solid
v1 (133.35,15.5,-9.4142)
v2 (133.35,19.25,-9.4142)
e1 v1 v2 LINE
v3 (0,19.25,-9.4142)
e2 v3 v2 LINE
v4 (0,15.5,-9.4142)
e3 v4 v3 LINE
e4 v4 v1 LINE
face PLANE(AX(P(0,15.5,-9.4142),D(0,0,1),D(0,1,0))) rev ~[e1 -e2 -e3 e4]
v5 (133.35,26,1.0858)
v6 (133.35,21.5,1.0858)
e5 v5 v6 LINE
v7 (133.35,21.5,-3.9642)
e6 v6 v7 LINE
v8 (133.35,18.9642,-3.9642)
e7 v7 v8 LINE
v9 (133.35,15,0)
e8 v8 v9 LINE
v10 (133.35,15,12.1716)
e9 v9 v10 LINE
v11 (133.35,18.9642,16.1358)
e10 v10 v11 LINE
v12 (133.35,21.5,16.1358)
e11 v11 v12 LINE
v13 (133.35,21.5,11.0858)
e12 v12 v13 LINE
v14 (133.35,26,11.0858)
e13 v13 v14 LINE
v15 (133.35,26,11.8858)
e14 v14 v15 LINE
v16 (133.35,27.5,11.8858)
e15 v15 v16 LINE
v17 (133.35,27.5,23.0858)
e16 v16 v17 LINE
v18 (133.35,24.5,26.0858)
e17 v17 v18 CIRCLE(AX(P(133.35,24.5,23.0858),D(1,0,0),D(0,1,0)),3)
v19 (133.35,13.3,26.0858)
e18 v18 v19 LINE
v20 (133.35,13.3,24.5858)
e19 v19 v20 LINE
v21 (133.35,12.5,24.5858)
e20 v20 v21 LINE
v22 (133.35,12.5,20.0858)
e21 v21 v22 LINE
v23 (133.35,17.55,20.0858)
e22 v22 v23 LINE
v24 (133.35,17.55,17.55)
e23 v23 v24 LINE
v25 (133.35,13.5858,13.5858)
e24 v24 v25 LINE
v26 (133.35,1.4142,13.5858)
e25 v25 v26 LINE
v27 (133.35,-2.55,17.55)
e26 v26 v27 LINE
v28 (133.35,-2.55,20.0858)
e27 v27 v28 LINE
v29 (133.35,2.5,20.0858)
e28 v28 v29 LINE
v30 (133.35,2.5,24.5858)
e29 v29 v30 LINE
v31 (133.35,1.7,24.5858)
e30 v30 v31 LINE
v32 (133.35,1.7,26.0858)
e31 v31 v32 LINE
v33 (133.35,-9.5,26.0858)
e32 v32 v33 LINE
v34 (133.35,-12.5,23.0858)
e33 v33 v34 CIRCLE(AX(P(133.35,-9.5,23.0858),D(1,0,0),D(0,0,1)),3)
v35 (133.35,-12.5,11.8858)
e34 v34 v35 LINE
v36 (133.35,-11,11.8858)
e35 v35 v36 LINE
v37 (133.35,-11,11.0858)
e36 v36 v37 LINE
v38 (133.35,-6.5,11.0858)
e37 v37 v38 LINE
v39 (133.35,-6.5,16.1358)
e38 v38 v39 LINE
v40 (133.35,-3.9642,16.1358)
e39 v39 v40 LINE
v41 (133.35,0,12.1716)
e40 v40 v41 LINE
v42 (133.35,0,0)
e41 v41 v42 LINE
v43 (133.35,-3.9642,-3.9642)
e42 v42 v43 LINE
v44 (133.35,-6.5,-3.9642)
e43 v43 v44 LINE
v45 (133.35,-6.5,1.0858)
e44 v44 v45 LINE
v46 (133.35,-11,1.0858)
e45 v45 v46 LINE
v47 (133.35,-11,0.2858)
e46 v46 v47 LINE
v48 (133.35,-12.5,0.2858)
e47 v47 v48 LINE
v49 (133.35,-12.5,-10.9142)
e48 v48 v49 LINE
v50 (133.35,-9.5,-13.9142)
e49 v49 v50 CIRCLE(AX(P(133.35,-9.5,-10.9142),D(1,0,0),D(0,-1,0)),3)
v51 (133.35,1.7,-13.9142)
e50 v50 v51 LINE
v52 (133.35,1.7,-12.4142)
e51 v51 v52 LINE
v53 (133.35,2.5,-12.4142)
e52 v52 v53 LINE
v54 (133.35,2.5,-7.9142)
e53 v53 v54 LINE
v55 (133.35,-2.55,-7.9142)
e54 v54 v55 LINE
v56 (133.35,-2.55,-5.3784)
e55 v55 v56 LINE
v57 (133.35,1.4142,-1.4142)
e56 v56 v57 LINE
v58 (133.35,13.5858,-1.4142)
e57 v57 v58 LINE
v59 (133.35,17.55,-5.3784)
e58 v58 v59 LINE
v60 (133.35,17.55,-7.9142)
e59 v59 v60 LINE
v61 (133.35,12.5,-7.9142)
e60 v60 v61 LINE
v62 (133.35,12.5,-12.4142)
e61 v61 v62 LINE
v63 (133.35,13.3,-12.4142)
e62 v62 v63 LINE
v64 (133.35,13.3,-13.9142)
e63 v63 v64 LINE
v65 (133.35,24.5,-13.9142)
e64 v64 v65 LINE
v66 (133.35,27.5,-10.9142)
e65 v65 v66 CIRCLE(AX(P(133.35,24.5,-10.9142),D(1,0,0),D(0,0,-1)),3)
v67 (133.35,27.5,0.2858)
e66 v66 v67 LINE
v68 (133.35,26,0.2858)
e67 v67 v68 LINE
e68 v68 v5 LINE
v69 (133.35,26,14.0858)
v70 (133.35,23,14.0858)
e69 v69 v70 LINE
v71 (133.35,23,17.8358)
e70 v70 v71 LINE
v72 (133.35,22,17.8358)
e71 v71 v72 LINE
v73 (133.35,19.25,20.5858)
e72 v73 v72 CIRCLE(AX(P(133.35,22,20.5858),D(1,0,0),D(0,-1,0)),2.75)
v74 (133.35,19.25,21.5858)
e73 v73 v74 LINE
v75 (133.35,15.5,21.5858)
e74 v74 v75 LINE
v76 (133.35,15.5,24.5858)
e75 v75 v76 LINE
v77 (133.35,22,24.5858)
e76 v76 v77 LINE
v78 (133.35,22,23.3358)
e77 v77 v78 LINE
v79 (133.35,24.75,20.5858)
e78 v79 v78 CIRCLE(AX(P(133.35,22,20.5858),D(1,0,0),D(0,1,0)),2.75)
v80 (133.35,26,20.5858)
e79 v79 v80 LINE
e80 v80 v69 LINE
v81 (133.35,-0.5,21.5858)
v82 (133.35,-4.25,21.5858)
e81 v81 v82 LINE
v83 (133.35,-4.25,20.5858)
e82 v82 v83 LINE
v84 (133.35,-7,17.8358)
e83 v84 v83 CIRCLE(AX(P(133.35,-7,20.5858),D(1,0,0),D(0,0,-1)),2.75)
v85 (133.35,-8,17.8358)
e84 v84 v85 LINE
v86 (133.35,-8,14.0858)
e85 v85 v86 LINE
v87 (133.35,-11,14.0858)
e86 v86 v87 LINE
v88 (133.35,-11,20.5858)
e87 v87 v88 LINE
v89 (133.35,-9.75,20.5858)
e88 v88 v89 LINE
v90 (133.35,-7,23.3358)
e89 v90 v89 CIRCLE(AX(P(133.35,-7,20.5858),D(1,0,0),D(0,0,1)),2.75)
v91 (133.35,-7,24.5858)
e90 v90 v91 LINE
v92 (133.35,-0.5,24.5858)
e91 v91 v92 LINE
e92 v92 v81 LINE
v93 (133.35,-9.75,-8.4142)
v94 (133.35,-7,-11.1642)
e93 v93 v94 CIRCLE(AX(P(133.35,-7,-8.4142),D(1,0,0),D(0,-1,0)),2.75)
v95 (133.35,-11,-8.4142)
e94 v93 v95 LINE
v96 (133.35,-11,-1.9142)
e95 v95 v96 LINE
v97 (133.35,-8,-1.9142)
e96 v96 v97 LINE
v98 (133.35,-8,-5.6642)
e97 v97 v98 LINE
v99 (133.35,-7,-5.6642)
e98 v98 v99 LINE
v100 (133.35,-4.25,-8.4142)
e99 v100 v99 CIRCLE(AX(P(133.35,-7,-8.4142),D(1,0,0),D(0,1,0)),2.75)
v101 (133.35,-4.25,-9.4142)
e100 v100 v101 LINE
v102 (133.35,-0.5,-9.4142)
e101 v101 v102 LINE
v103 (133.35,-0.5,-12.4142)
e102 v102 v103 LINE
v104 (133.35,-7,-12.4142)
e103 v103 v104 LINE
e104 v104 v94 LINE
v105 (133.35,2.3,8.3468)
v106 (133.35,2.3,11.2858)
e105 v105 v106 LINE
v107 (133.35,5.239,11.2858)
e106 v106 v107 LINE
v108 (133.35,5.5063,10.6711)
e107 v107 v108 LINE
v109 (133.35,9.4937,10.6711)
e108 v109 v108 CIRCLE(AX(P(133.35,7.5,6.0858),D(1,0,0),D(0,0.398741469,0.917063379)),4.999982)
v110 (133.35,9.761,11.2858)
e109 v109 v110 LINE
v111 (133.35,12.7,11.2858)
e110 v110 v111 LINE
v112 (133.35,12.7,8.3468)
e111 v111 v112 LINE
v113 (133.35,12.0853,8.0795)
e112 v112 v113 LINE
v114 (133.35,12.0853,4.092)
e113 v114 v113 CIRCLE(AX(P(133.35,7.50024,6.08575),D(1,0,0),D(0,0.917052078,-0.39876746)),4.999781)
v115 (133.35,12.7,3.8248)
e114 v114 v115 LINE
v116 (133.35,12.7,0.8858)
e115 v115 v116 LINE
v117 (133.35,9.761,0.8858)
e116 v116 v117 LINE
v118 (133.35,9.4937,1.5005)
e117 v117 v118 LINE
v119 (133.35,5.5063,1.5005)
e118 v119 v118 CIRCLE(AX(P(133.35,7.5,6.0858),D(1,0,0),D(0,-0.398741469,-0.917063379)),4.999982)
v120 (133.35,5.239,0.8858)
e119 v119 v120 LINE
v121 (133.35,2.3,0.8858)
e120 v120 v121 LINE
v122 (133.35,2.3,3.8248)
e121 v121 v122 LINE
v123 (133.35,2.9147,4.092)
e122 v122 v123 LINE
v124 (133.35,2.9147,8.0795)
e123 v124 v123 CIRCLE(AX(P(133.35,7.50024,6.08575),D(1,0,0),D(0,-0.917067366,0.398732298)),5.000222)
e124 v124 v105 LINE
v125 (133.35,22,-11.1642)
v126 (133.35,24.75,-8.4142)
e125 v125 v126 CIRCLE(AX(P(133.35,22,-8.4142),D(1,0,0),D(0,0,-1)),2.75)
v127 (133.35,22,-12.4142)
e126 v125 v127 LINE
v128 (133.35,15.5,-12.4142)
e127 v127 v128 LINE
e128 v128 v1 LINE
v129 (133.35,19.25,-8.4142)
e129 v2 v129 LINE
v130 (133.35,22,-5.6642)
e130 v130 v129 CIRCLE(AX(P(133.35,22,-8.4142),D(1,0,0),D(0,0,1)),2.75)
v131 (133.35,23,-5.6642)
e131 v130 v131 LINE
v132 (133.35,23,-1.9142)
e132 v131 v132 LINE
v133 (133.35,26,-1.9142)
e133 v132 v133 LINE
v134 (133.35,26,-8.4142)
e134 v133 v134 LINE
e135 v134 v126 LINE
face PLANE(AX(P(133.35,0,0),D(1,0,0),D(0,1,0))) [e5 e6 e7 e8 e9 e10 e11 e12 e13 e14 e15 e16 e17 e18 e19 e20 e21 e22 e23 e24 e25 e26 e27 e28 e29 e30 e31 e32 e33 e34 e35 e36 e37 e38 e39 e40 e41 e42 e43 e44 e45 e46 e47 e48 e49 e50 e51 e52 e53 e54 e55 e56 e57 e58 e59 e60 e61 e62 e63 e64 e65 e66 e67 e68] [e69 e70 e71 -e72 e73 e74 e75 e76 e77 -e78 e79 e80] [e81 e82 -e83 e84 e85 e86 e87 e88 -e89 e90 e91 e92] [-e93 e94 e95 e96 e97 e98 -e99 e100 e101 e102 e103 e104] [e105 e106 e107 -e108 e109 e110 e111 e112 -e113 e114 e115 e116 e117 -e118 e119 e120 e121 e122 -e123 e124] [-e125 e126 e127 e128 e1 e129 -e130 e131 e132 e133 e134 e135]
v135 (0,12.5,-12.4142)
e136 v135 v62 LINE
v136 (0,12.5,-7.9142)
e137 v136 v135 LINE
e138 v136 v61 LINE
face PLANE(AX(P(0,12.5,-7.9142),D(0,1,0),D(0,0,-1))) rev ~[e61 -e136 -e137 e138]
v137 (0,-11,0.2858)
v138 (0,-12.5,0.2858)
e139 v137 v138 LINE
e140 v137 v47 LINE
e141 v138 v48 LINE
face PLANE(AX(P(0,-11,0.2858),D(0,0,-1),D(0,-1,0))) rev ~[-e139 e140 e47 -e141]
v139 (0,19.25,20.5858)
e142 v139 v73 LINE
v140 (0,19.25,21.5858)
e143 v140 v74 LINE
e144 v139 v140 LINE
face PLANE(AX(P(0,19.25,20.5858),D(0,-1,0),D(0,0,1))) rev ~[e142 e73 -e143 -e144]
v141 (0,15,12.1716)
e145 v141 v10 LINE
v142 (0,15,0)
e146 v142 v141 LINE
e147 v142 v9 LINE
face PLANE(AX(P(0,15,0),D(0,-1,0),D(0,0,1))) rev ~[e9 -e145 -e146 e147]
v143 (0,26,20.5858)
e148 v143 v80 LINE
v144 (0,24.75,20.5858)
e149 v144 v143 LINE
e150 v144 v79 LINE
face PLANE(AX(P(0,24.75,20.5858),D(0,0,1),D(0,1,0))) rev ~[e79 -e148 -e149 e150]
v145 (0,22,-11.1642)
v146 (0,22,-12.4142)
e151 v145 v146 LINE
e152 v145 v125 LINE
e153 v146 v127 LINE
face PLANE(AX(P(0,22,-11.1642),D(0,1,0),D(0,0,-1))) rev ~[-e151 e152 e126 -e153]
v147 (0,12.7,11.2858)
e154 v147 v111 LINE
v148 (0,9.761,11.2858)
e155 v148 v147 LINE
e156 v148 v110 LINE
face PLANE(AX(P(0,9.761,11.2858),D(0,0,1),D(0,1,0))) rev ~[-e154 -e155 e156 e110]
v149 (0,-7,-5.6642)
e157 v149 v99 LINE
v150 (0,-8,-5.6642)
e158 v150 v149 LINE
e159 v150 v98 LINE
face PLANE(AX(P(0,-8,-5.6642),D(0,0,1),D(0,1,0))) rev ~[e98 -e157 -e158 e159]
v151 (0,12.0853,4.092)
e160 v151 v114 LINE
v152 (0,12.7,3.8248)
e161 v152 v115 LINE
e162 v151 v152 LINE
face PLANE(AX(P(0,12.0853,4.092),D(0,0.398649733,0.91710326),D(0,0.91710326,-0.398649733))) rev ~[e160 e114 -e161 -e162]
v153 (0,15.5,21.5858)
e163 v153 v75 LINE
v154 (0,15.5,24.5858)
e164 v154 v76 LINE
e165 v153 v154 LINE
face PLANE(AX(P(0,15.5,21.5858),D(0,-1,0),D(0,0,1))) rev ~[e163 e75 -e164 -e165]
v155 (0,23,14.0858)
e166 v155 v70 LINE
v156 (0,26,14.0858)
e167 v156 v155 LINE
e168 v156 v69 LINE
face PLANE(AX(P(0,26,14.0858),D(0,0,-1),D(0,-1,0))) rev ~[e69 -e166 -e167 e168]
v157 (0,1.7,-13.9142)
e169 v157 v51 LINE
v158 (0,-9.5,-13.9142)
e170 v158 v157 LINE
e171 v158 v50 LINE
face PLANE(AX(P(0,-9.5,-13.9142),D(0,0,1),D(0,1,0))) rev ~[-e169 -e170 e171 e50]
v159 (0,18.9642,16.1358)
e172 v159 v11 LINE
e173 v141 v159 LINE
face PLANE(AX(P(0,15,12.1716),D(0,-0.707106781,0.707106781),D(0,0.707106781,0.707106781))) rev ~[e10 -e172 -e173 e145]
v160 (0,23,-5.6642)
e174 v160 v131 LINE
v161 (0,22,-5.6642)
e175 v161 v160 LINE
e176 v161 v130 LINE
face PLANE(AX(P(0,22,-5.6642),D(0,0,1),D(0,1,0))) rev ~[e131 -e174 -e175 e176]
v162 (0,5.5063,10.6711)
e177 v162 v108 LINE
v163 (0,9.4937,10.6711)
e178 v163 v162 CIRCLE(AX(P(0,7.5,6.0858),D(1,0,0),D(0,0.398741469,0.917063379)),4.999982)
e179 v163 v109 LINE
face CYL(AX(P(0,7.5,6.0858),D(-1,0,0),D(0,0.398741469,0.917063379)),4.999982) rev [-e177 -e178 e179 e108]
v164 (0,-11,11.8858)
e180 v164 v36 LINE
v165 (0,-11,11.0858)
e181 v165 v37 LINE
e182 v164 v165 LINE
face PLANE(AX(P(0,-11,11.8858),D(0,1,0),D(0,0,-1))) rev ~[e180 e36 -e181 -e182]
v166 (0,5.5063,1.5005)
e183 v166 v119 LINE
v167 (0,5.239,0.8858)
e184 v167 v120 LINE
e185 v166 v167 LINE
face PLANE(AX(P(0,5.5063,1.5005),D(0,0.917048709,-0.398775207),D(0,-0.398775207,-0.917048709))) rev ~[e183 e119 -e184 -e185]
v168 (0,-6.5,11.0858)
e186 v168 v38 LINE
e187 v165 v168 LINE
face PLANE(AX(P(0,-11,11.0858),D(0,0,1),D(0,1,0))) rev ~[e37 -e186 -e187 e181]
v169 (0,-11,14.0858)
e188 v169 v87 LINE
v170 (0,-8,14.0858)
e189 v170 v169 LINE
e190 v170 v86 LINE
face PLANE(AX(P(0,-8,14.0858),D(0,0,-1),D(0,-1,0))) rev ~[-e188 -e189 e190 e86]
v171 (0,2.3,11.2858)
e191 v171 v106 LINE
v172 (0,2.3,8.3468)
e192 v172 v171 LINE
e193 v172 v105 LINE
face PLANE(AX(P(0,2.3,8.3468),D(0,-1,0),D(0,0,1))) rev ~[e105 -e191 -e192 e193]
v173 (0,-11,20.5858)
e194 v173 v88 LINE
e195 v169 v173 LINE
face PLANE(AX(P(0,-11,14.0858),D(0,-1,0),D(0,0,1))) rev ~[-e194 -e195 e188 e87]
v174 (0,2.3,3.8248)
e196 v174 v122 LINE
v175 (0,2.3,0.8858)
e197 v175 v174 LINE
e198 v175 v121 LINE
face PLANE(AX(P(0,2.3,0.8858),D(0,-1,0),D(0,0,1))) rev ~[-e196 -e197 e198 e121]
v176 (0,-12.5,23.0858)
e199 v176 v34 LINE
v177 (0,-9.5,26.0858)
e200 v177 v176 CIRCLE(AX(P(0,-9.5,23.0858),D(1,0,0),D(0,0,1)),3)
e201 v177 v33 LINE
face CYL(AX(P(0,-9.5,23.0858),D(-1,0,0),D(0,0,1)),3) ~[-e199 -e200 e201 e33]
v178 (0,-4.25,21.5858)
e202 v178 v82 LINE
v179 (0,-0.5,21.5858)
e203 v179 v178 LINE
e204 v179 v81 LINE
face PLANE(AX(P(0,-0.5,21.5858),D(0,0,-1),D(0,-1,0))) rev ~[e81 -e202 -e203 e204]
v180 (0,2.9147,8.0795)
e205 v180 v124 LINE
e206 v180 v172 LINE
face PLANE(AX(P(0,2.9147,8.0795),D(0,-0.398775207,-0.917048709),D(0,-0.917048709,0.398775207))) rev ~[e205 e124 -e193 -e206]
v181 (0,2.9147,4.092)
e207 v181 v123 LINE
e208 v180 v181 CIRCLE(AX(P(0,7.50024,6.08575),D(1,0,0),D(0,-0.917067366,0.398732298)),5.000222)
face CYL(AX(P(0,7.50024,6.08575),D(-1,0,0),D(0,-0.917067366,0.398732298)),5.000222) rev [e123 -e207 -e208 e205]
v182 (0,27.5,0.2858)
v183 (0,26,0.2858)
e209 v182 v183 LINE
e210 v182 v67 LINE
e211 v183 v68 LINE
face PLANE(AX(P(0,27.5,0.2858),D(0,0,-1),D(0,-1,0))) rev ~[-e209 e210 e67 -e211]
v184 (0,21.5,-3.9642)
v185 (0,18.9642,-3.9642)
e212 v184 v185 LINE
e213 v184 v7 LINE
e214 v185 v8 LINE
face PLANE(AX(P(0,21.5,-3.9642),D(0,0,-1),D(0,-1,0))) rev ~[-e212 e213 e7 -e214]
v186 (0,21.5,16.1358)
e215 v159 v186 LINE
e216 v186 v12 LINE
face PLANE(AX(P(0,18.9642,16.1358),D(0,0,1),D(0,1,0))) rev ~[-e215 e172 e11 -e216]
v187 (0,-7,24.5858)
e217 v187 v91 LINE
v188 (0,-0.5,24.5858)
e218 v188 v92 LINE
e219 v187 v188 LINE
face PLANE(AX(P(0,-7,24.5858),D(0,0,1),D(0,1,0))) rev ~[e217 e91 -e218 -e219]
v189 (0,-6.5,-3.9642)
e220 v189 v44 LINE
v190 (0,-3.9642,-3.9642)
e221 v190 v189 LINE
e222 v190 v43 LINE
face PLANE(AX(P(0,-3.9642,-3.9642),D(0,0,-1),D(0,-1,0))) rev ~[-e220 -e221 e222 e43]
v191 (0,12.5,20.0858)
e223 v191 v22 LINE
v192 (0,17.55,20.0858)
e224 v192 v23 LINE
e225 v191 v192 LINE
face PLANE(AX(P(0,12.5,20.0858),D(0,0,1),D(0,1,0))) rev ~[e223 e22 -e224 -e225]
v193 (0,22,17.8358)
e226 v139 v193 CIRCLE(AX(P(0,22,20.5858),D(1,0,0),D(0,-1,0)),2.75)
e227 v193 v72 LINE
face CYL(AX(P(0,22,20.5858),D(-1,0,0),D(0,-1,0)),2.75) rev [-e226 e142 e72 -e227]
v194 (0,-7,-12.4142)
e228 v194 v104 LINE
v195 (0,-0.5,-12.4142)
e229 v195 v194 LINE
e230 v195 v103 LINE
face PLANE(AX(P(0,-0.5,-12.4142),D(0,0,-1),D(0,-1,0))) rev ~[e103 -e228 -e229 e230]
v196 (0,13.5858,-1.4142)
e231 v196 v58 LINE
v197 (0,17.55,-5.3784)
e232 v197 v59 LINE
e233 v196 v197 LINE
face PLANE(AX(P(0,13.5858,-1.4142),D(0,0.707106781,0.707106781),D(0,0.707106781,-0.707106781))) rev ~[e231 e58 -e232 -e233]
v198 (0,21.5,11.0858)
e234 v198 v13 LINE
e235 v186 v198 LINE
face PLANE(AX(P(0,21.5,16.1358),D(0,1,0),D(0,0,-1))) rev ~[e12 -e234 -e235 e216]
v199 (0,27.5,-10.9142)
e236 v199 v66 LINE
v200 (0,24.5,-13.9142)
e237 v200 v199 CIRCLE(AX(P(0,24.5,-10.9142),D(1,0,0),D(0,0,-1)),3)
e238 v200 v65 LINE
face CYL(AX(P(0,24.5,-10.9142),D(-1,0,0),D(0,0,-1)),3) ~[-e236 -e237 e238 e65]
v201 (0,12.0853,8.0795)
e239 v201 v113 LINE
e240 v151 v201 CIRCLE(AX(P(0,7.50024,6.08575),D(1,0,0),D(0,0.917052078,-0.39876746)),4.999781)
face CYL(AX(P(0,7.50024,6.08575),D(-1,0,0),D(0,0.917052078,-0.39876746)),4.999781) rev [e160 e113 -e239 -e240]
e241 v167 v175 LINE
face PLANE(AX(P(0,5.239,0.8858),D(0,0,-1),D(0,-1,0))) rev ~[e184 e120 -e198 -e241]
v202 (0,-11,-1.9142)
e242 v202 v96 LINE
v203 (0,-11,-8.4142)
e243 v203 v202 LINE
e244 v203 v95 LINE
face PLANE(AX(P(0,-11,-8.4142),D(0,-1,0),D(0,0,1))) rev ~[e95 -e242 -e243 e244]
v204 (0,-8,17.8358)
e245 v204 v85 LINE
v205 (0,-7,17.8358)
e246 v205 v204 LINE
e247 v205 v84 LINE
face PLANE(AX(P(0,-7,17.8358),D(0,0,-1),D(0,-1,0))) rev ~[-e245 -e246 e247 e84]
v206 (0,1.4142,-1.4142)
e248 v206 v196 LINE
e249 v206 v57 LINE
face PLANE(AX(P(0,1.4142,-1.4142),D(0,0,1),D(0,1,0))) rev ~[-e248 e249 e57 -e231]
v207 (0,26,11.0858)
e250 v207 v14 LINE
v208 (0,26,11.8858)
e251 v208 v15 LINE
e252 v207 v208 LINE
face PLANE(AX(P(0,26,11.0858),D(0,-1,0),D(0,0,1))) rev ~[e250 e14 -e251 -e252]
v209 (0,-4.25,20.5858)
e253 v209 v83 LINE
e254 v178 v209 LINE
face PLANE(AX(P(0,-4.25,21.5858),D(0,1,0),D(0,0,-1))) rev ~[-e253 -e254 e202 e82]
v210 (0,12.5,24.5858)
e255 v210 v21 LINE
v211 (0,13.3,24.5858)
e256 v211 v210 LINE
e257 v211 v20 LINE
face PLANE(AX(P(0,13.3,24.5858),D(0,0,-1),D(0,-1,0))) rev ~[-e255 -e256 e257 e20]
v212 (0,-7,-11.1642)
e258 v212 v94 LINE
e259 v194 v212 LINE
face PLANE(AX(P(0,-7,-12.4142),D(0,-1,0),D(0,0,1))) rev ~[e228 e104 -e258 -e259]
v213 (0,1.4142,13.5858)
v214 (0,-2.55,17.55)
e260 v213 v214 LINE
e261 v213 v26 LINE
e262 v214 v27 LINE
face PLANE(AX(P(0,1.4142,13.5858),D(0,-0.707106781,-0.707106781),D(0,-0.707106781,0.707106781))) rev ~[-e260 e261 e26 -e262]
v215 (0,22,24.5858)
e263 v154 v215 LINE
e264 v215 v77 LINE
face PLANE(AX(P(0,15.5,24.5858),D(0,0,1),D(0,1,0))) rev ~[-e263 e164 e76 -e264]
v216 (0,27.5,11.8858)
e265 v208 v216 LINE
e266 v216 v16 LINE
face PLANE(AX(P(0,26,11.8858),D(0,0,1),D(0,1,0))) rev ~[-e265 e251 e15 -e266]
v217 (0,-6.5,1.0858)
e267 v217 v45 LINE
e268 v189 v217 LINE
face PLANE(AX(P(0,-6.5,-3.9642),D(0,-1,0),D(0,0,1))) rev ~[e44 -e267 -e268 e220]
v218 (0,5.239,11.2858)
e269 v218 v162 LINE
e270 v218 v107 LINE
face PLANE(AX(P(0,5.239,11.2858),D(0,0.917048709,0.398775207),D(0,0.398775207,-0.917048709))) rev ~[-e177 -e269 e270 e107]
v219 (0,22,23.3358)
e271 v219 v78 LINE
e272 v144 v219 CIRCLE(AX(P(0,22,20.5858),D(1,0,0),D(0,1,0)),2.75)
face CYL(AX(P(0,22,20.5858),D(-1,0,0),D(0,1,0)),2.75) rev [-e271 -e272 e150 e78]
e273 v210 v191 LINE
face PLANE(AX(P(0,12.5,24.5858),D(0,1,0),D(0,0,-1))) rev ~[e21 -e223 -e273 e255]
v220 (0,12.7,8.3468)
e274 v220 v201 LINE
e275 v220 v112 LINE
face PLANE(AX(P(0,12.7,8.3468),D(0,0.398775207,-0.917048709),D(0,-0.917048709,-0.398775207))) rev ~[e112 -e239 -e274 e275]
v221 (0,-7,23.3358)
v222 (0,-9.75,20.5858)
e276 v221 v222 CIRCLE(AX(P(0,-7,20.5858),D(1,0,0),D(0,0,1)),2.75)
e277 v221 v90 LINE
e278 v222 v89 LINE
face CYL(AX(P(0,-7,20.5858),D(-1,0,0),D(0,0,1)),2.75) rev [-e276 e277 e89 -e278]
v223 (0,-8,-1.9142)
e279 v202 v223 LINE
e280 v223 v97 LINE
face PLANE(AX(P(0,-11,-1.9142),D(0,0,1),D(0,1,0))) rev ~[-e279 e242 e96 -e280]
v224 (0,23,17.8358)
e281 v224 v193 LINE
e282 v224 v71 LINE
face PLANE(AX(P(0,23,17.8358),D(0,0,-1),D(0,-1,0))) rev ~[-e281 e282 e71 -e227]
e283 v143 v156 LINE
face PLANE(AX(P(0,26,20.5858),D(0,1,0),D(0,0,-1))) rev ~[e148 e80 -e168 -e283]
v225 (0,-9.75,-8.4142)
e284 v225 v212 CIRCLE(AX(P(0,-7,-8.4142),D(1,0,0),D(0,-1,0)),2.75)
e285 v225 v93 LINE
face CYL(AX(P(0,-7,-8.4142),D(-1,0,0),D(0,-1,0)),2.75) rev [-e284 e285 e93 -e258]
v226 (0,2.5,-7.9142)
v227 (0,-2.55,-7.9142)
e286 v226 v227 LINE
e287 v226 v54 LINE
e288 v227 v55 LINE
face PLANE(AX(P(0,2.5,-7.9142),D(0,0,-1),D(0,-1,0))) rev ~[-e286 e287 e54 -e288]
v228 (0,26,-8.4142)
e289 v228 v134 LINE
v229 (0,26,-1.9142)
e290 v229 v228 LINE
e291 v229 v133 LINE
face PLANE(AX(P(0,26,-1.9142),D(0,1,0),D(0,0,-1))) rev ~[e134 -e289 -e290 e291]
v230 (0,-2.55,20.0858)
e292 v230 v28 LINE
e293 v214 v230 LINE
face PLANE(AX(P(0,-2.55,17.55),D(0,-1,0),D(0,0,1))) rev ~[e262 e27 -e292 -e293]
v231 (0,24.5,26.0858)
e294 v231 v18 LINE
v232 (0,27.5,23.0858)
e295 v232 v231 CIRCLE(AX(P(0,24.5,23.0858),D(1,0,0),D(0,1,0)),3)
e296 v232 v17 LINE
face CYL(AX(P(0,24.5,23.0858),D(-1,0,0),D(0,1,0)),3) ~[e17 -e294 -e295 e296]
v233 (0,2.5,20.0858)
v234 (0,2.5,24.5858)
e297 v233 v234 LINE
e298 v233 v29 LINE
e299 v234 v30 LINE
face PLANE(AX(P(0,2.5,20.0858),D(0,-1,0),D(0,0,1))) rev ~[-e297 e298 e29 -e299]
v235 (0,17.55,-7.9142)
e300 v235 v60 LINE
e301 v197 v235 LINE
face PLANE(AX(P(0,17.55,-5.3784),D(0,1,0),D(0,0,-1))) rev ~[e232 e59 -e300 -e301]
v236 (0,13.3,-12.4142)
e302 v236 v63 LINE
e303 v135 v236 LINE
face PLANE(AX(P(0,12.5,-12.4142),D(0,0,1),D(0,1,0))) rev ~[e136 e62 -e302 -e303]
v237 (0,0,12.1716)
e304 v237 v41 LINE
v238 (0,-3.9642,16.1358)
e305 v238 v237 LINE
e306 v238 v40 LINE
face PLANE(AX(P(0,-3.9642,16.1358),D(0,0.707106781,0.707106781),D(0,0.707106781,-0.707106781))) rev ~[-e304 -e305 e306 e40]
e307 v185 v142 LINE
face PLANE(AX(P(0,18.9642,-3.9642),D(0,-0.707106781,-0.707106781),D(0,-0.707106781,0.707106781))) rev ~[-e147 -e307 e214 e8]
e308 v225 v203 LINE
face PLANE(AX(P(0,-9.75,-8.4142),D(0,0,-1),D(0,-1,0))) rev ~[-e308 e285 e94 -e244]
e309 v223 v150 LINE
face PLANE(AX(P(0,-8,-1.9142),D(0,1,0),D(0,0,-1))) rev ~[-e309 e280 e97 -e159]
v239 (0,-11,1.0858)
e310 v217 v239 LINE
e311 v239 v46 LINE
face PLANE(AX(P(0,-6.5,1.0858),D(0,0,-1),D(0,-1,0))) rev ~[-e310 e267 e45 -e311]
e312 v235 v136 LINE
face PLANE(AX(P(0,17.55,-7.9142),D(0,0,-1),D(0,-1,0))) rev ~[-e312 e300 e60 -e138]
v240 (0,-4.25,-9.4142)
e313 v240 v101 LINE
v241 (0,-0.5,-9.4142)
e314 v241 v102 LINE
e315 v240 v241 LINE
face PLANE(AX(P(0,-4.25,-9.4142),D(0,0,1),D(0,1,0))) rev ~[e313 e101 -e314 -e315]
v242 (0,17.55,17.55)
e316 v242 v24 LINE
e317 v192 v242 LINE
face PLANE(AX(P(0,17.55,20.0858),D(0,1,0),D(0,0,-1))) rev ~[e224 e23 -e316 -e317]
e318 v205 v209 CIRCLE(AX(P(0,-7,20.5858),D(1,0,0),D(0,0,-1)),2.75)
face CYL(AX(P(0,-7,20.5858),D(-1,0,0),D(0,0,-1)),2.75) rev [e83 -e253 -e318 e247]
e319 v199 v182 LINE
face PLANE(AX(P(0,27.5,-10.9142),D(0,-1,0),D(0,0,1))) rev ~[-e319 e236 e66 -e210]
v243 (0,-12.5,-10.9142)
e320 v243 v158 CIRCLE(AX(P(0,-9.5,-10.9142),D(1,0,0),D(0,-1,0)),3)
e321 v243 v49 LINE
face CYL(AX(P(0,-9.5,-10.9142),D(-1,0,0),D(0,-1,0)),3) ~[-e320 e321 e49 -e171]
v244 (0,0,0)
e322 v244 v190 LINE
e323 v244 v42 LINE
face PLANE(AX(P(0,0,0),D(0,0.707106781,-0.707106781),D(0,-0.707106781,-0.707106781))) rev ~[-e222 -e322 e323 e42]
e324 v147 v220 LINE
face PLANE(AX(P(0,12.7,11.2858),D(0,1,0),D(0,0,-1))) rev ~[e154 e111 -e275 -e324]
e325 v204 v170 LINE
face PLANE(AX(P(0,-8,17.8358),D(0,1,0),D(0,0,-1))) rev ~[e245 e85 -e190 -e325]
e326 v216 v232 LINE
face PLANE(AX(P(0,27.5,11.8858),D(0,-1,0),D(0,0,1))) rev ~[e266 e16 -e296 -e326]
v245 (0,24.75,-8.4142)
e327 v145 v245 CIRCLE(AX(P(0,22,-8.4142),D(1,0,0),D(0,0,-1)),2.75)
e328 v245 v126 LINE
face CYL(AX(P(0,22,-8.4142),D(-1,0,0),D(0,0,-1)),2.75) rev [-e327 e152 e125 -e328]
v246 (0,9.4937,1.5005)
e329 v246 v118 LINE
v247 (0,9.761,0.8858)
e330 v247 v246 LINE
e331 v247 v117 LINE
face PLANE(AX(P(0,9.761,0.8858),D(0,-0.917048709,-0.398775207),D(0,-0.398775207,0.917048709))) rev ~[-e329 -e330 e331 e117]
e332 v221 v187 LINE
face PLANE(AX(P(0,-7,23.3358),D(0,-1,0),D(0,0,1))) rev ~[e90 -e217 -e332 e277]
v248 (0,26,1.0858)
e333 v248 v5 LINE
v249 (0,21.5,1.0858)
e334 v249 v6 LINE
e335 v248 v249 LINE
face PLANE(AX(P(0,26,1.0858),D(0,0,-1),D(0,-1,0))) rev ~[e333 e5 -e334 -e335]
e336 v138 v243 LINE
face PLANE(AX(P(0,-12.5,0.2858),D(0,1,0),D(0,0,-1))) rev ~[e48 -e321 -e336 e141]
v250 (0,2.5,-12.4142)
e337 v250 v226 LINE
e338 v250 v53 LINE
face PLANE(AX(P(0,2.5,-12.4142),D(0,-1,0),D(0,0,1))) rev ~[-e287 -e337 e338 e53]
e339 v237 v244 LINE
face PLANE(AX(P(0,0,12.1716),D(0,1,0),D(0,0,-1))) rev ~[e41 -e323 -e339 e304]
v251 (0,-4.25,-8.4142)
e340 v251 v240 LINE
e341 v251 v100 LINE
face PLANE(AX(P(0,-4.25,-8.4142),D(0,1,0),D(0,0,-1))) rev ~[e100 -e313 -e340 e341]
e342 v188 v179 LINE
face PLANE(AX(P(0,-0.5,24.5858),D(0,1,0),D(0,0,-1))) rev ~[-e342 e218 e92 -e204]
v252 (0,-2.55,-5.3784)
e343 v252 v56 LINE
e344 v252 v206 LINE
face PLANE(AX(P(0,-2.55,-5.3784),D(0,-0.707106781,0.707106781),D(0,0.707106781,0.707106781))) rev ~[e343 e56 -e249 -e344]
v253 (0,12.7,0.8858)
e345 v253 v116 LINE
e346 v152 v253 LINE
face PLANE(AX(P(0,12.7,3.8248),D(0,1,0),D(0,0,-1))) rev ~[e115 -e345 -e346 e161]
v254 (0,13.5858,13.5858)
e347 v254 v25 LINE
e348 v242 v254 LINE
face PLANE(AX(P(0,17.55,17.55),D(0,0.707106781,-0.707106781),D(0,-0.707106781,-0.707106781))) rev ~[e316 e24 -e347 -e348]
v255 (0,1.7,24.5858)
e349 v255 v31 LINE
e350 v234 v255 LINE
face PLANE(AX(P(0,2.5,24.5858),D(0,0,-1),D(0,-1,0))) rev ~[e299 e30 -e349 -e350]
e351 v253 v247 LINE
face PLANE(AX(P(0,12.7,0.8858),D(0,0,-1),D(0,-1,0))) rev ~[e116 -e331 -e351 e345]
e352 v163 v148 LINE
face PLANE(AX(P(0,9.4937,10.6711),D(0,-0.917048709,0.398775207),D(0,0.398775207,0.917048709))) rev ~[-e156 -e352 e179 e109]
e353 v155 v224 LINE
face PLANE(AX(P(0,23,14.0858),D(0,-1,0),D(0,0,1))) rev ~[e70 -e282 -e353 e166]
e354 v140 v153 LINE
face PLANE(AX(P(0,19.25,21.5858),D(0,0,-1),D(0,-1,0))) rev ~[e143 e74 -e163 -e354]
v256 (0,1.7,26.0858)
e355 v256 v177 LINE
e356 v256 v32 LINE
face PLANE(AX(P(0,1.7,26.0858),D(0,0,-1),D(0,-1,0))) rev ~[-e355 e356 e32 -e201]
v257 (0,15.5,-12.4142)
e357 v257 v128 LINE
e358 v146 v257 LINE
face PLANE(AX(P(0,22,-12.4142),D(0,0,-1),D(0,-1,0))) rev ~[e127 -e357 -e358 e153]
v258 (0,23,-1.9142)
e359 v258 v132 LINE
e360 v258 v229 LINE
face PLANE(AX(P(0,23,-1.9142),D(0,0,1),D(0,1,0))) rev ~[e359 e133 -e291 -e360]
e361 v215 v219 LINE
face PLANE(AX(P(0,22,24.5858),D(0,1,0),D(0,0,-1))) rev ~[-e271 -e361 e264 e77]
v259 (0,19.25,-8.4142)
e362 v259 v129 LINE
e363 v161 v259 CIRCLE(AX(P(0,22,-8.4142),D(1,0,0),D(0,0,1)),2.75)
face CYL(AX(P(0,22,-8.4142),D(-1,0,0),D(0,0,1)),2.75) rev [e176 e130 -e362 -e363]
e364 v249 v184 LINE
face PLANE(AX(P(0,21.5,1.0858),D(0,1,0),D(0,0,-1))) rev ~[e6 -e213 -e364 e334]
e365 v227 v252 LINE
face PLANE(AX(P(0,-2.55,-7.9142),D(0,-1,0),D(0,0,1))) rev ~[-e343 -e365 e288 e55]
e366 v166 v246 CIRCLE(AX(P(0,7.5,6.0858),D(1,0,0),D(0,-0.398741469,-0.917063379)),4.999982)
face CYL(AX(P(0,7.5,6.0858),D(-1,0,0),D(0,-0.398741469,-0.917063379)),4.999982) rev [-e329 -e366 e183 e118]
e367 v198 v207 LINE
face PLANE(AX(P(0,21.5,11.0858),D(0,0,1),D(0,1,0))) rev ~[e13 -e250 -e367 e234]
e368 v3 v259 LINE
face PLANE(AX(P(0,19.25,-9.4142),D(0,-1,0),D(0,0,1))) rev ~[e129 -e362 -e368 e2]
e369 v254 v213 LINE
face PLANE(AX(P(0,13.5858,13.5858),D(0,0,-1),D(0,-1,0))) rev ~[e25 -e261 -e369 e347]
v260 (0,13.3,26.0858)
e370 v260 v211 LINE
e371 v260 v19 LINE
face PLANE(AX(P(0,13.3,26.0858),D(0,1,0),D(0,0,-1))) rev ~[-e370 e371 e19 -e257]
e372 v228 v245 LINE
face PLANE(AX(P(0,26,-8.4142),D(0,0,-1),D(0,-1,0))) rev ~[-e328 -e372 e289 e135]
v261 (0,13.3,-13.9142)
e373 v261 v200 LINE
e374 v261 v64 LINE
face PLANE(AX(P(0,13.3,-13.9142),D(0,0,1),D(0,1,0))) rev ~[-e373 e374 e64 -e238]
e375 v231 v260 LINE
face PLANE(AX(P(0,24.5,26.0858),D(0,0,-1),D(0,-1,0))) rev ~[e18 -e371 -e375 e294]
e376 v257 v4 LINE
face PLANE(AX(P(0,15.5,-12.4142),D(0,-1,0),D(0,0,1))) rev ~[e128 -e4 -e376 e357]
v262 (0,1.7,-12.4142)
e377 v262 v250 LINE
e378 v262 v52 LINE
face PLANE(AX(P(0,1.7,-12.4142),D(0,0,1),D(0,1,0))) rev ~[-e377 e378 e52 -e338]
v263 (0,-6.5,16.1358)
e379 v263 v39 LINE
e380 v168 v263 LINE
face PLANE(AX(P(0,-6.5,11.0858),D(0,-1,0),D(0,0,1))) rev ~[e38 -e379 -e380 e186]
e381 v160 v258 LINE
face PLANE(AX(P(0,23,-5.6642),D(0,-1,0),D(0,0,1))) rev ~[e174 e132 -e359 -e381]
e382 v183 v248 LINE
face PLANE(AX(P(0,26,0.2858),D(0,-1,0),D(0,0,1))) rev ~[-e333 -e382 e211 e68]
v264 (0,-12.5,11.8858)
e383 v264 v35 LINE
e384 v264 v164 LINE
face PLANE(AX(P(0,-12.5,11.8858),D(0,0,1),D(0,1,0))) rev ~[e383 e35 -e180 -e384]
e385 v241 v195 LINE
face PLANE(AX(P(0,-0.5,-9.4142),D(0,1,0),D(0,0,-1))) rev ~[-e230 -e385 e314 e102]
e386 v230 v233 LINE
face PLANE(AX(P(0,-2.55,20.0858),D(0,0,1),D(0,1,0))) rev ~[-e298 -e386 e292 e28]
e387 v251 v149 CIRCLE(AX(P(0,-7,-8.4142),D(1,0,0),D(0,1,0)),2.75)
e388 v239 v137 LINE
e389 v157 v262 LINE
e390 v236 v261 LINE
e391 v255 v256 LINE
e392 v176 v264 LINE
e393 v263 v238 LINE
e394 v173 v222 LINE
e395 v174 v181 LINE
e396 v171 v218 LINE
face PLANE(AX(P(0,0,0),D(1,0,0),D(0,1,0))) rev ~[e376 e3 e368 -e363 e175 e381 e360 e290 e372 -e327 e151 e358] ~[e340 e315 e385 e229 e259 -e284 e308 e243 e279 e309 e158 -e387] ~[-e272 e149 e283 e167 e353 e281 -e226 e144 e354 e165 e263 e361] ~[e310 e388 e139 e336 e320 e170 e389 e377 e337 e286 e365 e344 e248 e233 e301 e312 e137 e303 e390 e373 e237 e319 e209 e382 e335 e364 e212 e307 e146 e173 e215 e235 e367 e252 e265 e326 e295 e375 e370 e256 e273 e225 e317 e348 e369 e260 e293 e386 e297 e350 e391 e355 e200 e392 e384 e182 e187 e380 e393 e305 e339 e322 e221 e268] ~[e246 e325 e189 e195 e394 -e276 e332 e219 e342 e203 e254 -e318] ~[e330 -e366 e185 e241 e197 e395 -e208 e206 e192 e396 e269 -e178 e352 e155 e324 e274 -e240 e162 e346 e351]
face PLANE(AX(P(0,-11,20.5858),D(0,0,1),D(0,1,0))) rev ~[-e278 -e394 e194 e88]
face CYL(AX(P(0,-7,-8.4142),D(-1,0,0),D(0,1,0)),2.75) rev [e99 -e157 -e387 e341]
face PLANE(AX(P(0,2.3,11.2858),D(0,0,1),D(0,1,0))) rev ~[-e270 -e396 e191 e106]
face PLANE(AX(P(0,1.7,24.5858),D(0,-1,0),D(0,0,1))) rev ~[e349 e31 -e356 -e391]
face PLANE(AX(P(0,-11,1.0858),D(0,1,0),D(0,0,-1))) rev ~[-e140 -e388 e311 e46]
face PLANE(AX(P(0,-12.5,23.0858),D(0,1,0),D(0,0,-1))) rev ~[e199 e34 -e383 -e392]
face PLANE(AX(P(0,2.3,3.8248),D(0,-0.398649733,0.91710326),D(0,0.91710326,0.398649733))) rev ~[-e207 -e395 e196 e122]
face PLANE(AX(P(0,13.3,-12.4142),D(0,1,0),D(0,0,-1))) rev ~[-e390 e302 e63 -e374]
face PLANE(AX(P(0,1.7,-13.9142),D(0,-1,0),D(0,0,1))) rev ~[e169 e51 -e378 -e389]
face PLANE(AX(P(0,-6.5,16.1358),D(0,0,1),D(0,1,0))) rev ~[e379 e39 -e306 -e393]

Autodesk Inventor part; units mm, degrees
ref_plane "YZ Plane" through (0, 0, 0) normal (1, 0, 0) x (0, 1, 0)
ref_plane "XZ Plane" through (0, 0, 0) normal (0, 1, 0) x (-1, 0, 0)
ref_plane "XY Plane" through (0, 0, 0) normal (0, 0, 1) x (1, 0, 0)
sketch "Sketch1" plane through (0, 0, 0) normal (1, 0, 0) x (0, 1, 0)
  line L0 (0, 12.1716) -> (0, 0)
  line L1 (0, 0) -> (-3.9642, -3.9642)
  line L2 (-3.9642, -3.9642) -> (-6.5, -3.9642)
  line L3 (-6.5, -3.9642) -> (-6.5, 1.0858)
  line L4 (-6.5, 1.0858) -> (-11, 1.0858)
  line L5 (-11, 1.0858) -> (-11, 0.2858)
  line L6 (-11, 0.2858) -> (-12.5, 0.2858)
  line L7 (-12.5, 0.2858) -> (-12.5, -10.9142)
  arc A0 (-12.5, -10.9142) -> (-9.5, -13.9142) centre (-9.5, -10.9142) ccw
  line L8 (-9.5, -13.9142) -> (1.7, -13.9142)
  line L9 (1.7, -13.9142) -> (1.7, -12.4142)
  line L10 (1.7, -12.4142) -> (2.5, -12.4142)
  line L11 (2.5, -12.4142) -> (2.5, -7.9142)
  line L12 (2.5, -7.9142) -> (-2.55, -7.9142)
  line L13 (-2.55, -7.9142) -> (-2.55, -5.3784)
  line L14 (-2.55, -5.3784) -> (1.4142, -1.4142)
  line L15 (1.4142, -1.4142) -> (13.5858, -1.4142)
  line L16 (13.5858, -1.4142) -> (17.55, -5.3784)
  line L17 (17.55, -5.3784) -> (17.55, -7.9142)
  line L18 (17.55, -7.9142) -> (12.5, -7.9142)
  line L19 (12.5, -7.9142) -> (12.5, -12.4142)
  line L20 (12.5, -12.4142) -> (13.3, -12.4142)
  line L21 (13.3, -12.4142) -> (13.3, -13.9142)
  line L22 (13.3, -13.9142) -> (24.5, -13.9142)
  arc A1 (24.5, -13.9142) -> (27.5, -10.9142) centre (24.5, -10.9142) ccw
  line L23 (27.5, -10.9142) -> (27.5, 0.2858)
  line L24 (27.5, 0.2858) -> (26, 0.2858)
  line L25 (26, 0.2858) -> (26, 1.0858)
  line L26 (26, 1.0858) -> (21.5, 1.0858)
  line L27 (21.5, 1.0858) -> (21.5, -3.9642)
  line L28 (21.5, -3.9642) -> (18.9642, -3.9642)
  line L29 (18.9642, -3.9642) -> (15, 0)
  line L30 (15, 0) -> (15, 12.1716)
  line L31 (15, 12.1716) -> (18.9642, 16.1358)
  line L32 (18.9642, 16.1358) -> (21.5, 16.1358)
  line L33 (21.5, 16.1358) -> (21.5, 11.0858)
  line L34 (21.5, 11.0858) -> (26, 11.0858)
  line L35 (26, 11.0858) -> (26, 11.8858)
  line L36 (26, 11.8858) -> (27.5, 11.8858)
  line L37 (27.5, 11.8858) -> (27.5, 23.0858)
  arc A2 (27.5, 23.0858) -> (24.5, 26.0858) centre (24.5, 23.0858) ccw
  line L38 (24.5, 26.0858) -> (13.3, 26.0858)
  line L39 (13.3, 26.0858) -> (13.3, 24.5858)
  line L40 (13.3, 24.5858) -> (12.5, 24.5858)
  line L41 (12.5, 24.5858) -> (12.5, 20.0858)
  line L42 (12.5, 20.0858) -> (17.55, 20.0858)
  line L43 (17.55, 20.0858) -> (17.55, 17.55)
  line L44 (17.55, 17.55) -> (13.5858, 13.5858)
  line L45 (13.5858, 13.5858) -> (1.4142, 13.5858)
  line L46 (1.4142, 13.5858) -> (-2.55, 17.55)
  line L47 (-2.55, 17.55) -> (-2.55, 20.0858)
  line L48 (-2.55, 20.0858) -> (2.5, 20.0858)
  line L49 (2.5, 20.0858) -> (2.5, 24.5858)
  line L50 (2.5, 24.5858) -> (1.7, 24.5858)
  line L51 (1.7, 24.5858) -> (1.7, 26.0858)
  line L52 (1.7, 26.0858) -> (-9.5, 26.0858)
  arc A3 (-9.5, 26.0858) -> (-12.5, 23.0858) centre (-9.5, 23.0858) ccw
  line L53 (-12.5, 23.0858) -> (-12.5, 11.8858)
  line L54 (-12.5, 11.8858) -> (-11, 11.8858)
  line L55 (-11, 11.8858) -> (-11, 11.0858)
  line L56 (-11, 11.0858) -> (-6.5, 11.0858)
  line L57 (-6.5, 11.0858) -> (-6.5, 16.1358)
  line L58 (-6.5, 16.1358) -> (-3.9642, 16.1358)
  line L59 (-3.9642, 16.1358) -> (0, 12.1716)
  line L60 (-0.5, 24.5858) -> (-0.5, 21.5858)
  line L61 (-0.5, 21.5858) -> (-4.25, 21.5858)
  line L62 (-4.25, 21.5858) -> (-4.25, 20.5858)
  arc A4 (-7, 17.8358) -> (-4.25, 20.5858) centre (-7, 20.5858) ccw
  line L63 (-7, 17.8358) -> (-8, 17.8358)
  line L64 (-8, 17.8358) -> (-8, 14.0858)
  line L65 (-8, 14.0858) -> (-11, 14.0858)
  line L66 (-11, 14.0858) -> (-11, 20.5858)
  line L67 (-11, 20.5858) -> (-9.75, 20.5858)
  arc A5 (-7, 23.3358) -> (-9.75, 20.5858) centre (-7, 20.5858) ccw
  line L68 (-7, 23.3358) -> (-7, 24.5858)
  line L69 (-7, 24.5858) -> (-0.5, 24.5858)
  line L70 (26, 14.0858) -> (23, 14.0858)
  line L71 (23, 14.0858) -> (23, 17.8358)
  line L72 (23, 17.8358) -> (22, 17.8358)
  arc A6 (19.25, 20.5858) -> (22, 17.8358) centre (22, 20.5858) ccw
  line L73 (19.25, 20.5858) -> (19.25, 21.5858)
  line L74 (19.25, 21.5858) -> (15.5, 21.5858)
  line L75 (15.5, 21.5858) -> (15.5, 24.5858)
  line L76 (15.5, 24.5858) -> (22, 24.5858)
  line L77 (22, 24.5858) -> (22, 23.3358)
  arc A7 (24.75, 20.5858) -> (22, 23.3358) centre (22, 20.5858) ccw
  line L78 (24.75, 20.5858) -> (26, 20.5858)
  line L79 (26, 20.5858) -> (26, 14.0858)
  line L80 (15.5, -12.4142) -> (15.5, -9.4142)
  line L81 (15.5, -9.4142) -> (19.25, -9.4142)
  line L82 (19.25, -9.4142) -> (19.25, -8.4142)
  arc A8 (22, -5.6642) -> (19.25, -8.4142) centre (22, -8.4142) ccw
  line L83 (22, -5.6642) -> (23, -5.6642)
  line L84 (23, -5.6642) -> (23, -1.9142)
  line L85 (23, -1.9142) -> (26, -1.9142)
  line L86 (26, -1.9142) -> (26, -8.4142)
  line L87 (26, -8.4142) -> (24.75, -8.4142)
  arc A9 (22, -11.1642) -> (24.75, -8.4142) centre (22, -8.4142) ccw
  line L88 (22, -11.1642) -> (22, -12.4142)
  line L89 (22, -12.4142) -> (15.5, -12.4142)
  line L90 (9.761, 0.8858) -> (9.4937, 1.5005)
  arc A10 (5.5063, 1.5005) -> (9.4937, 1.5005) centre (7.5, 6.0858) ccw
  line L91 (5.5063, 1.5005) -> (5.239, 0.8858)
  line L92 (5.239, 0.8858) -> (2.3, 0.8858)
  line L93 (2.3, 0.8858) -> (2.3, 3.8248)
  line L94 (2.3, 3.8248) -> (2.9147, 4.092)
  arc A11 (2.9147, 8.0795) -> (2.9147, 4.092) centre (7.5, 6.0858) ccw
  line L95 (2.9147, 8.0795) -> (2.3, 8.3468)
  line L96 (2.3, 8.3468) -> (2.3, 11.2858)
  line L97 (2.3, 11.2858) -> (5.239, 11.2858)
  line L98 (5.239, 11.2858) -> (5.5063, 10.6711)
  arc A12 (9.4937, 10.6711) -> (5.5063, 10.6711) centre (7.5, 6.0858) ccw
  line L99 (9.4937, 10.6711) -> (9.761, 11.2858)
  line L100 (9.761, 11.2858) -> (12.7, 11.2858)
  line L101 (12.7, 11.2858) -> (12.7, 8.3468)
  line L102 (12.7, 8.3468) -> (12.0853, 8.0795)
  arc A13 (12.0853, 4.092) -> (12.0853, 8.0795) centre (7.5, 6.0858) ccw
  line L103 (12.0853, 4.092) -> (12.7, 3.8248)
  line L104 (12.7, 3.8248) -> (12.7, 0.8858)
  line L105 (12.7, 0.8858) -> (9.761, 0.8858)
  line L106 (-11, -1.9142) -> (-8, -1.9142)
  line L107 (-8, -1.9142) -> (-8, -5.6642)
  line L108 (-8, -5.6642) -> (-7, -5.6642)
  arc A14 (-4.25, -8.4142) -> (-7, -5.6642) centre (-7, -8.4142) ccw
  line L109 (-4.25, -8.4142) -> (-4.25, -9.4142)
  line L110 (-4.25, -9.4142) -> (-0.5, -9.4142)
  line L111 (-0.5, -9.4142) -> (-0.5, -12.4142)
  line L112 (-0.5, -12.4142) -> (-7, -12.4142)
  line L113 (-7, -12.4142) -> (-7, -11.1642)
  arc A15 (-9.75, -8.4142) -> (-7, -11.1642) centre (-7, -8.4142) ccw
  line L114 (-9.75, -8.4142) -> (-11, -8.4142)
  line L115 (-11, -8.4142) -> (-11, -1.9142)
extrude "Extrusion1" add sketch "Sketch1" along normal blind 133.35
properties part number "front top side rail" material "Aluminum-6061"
